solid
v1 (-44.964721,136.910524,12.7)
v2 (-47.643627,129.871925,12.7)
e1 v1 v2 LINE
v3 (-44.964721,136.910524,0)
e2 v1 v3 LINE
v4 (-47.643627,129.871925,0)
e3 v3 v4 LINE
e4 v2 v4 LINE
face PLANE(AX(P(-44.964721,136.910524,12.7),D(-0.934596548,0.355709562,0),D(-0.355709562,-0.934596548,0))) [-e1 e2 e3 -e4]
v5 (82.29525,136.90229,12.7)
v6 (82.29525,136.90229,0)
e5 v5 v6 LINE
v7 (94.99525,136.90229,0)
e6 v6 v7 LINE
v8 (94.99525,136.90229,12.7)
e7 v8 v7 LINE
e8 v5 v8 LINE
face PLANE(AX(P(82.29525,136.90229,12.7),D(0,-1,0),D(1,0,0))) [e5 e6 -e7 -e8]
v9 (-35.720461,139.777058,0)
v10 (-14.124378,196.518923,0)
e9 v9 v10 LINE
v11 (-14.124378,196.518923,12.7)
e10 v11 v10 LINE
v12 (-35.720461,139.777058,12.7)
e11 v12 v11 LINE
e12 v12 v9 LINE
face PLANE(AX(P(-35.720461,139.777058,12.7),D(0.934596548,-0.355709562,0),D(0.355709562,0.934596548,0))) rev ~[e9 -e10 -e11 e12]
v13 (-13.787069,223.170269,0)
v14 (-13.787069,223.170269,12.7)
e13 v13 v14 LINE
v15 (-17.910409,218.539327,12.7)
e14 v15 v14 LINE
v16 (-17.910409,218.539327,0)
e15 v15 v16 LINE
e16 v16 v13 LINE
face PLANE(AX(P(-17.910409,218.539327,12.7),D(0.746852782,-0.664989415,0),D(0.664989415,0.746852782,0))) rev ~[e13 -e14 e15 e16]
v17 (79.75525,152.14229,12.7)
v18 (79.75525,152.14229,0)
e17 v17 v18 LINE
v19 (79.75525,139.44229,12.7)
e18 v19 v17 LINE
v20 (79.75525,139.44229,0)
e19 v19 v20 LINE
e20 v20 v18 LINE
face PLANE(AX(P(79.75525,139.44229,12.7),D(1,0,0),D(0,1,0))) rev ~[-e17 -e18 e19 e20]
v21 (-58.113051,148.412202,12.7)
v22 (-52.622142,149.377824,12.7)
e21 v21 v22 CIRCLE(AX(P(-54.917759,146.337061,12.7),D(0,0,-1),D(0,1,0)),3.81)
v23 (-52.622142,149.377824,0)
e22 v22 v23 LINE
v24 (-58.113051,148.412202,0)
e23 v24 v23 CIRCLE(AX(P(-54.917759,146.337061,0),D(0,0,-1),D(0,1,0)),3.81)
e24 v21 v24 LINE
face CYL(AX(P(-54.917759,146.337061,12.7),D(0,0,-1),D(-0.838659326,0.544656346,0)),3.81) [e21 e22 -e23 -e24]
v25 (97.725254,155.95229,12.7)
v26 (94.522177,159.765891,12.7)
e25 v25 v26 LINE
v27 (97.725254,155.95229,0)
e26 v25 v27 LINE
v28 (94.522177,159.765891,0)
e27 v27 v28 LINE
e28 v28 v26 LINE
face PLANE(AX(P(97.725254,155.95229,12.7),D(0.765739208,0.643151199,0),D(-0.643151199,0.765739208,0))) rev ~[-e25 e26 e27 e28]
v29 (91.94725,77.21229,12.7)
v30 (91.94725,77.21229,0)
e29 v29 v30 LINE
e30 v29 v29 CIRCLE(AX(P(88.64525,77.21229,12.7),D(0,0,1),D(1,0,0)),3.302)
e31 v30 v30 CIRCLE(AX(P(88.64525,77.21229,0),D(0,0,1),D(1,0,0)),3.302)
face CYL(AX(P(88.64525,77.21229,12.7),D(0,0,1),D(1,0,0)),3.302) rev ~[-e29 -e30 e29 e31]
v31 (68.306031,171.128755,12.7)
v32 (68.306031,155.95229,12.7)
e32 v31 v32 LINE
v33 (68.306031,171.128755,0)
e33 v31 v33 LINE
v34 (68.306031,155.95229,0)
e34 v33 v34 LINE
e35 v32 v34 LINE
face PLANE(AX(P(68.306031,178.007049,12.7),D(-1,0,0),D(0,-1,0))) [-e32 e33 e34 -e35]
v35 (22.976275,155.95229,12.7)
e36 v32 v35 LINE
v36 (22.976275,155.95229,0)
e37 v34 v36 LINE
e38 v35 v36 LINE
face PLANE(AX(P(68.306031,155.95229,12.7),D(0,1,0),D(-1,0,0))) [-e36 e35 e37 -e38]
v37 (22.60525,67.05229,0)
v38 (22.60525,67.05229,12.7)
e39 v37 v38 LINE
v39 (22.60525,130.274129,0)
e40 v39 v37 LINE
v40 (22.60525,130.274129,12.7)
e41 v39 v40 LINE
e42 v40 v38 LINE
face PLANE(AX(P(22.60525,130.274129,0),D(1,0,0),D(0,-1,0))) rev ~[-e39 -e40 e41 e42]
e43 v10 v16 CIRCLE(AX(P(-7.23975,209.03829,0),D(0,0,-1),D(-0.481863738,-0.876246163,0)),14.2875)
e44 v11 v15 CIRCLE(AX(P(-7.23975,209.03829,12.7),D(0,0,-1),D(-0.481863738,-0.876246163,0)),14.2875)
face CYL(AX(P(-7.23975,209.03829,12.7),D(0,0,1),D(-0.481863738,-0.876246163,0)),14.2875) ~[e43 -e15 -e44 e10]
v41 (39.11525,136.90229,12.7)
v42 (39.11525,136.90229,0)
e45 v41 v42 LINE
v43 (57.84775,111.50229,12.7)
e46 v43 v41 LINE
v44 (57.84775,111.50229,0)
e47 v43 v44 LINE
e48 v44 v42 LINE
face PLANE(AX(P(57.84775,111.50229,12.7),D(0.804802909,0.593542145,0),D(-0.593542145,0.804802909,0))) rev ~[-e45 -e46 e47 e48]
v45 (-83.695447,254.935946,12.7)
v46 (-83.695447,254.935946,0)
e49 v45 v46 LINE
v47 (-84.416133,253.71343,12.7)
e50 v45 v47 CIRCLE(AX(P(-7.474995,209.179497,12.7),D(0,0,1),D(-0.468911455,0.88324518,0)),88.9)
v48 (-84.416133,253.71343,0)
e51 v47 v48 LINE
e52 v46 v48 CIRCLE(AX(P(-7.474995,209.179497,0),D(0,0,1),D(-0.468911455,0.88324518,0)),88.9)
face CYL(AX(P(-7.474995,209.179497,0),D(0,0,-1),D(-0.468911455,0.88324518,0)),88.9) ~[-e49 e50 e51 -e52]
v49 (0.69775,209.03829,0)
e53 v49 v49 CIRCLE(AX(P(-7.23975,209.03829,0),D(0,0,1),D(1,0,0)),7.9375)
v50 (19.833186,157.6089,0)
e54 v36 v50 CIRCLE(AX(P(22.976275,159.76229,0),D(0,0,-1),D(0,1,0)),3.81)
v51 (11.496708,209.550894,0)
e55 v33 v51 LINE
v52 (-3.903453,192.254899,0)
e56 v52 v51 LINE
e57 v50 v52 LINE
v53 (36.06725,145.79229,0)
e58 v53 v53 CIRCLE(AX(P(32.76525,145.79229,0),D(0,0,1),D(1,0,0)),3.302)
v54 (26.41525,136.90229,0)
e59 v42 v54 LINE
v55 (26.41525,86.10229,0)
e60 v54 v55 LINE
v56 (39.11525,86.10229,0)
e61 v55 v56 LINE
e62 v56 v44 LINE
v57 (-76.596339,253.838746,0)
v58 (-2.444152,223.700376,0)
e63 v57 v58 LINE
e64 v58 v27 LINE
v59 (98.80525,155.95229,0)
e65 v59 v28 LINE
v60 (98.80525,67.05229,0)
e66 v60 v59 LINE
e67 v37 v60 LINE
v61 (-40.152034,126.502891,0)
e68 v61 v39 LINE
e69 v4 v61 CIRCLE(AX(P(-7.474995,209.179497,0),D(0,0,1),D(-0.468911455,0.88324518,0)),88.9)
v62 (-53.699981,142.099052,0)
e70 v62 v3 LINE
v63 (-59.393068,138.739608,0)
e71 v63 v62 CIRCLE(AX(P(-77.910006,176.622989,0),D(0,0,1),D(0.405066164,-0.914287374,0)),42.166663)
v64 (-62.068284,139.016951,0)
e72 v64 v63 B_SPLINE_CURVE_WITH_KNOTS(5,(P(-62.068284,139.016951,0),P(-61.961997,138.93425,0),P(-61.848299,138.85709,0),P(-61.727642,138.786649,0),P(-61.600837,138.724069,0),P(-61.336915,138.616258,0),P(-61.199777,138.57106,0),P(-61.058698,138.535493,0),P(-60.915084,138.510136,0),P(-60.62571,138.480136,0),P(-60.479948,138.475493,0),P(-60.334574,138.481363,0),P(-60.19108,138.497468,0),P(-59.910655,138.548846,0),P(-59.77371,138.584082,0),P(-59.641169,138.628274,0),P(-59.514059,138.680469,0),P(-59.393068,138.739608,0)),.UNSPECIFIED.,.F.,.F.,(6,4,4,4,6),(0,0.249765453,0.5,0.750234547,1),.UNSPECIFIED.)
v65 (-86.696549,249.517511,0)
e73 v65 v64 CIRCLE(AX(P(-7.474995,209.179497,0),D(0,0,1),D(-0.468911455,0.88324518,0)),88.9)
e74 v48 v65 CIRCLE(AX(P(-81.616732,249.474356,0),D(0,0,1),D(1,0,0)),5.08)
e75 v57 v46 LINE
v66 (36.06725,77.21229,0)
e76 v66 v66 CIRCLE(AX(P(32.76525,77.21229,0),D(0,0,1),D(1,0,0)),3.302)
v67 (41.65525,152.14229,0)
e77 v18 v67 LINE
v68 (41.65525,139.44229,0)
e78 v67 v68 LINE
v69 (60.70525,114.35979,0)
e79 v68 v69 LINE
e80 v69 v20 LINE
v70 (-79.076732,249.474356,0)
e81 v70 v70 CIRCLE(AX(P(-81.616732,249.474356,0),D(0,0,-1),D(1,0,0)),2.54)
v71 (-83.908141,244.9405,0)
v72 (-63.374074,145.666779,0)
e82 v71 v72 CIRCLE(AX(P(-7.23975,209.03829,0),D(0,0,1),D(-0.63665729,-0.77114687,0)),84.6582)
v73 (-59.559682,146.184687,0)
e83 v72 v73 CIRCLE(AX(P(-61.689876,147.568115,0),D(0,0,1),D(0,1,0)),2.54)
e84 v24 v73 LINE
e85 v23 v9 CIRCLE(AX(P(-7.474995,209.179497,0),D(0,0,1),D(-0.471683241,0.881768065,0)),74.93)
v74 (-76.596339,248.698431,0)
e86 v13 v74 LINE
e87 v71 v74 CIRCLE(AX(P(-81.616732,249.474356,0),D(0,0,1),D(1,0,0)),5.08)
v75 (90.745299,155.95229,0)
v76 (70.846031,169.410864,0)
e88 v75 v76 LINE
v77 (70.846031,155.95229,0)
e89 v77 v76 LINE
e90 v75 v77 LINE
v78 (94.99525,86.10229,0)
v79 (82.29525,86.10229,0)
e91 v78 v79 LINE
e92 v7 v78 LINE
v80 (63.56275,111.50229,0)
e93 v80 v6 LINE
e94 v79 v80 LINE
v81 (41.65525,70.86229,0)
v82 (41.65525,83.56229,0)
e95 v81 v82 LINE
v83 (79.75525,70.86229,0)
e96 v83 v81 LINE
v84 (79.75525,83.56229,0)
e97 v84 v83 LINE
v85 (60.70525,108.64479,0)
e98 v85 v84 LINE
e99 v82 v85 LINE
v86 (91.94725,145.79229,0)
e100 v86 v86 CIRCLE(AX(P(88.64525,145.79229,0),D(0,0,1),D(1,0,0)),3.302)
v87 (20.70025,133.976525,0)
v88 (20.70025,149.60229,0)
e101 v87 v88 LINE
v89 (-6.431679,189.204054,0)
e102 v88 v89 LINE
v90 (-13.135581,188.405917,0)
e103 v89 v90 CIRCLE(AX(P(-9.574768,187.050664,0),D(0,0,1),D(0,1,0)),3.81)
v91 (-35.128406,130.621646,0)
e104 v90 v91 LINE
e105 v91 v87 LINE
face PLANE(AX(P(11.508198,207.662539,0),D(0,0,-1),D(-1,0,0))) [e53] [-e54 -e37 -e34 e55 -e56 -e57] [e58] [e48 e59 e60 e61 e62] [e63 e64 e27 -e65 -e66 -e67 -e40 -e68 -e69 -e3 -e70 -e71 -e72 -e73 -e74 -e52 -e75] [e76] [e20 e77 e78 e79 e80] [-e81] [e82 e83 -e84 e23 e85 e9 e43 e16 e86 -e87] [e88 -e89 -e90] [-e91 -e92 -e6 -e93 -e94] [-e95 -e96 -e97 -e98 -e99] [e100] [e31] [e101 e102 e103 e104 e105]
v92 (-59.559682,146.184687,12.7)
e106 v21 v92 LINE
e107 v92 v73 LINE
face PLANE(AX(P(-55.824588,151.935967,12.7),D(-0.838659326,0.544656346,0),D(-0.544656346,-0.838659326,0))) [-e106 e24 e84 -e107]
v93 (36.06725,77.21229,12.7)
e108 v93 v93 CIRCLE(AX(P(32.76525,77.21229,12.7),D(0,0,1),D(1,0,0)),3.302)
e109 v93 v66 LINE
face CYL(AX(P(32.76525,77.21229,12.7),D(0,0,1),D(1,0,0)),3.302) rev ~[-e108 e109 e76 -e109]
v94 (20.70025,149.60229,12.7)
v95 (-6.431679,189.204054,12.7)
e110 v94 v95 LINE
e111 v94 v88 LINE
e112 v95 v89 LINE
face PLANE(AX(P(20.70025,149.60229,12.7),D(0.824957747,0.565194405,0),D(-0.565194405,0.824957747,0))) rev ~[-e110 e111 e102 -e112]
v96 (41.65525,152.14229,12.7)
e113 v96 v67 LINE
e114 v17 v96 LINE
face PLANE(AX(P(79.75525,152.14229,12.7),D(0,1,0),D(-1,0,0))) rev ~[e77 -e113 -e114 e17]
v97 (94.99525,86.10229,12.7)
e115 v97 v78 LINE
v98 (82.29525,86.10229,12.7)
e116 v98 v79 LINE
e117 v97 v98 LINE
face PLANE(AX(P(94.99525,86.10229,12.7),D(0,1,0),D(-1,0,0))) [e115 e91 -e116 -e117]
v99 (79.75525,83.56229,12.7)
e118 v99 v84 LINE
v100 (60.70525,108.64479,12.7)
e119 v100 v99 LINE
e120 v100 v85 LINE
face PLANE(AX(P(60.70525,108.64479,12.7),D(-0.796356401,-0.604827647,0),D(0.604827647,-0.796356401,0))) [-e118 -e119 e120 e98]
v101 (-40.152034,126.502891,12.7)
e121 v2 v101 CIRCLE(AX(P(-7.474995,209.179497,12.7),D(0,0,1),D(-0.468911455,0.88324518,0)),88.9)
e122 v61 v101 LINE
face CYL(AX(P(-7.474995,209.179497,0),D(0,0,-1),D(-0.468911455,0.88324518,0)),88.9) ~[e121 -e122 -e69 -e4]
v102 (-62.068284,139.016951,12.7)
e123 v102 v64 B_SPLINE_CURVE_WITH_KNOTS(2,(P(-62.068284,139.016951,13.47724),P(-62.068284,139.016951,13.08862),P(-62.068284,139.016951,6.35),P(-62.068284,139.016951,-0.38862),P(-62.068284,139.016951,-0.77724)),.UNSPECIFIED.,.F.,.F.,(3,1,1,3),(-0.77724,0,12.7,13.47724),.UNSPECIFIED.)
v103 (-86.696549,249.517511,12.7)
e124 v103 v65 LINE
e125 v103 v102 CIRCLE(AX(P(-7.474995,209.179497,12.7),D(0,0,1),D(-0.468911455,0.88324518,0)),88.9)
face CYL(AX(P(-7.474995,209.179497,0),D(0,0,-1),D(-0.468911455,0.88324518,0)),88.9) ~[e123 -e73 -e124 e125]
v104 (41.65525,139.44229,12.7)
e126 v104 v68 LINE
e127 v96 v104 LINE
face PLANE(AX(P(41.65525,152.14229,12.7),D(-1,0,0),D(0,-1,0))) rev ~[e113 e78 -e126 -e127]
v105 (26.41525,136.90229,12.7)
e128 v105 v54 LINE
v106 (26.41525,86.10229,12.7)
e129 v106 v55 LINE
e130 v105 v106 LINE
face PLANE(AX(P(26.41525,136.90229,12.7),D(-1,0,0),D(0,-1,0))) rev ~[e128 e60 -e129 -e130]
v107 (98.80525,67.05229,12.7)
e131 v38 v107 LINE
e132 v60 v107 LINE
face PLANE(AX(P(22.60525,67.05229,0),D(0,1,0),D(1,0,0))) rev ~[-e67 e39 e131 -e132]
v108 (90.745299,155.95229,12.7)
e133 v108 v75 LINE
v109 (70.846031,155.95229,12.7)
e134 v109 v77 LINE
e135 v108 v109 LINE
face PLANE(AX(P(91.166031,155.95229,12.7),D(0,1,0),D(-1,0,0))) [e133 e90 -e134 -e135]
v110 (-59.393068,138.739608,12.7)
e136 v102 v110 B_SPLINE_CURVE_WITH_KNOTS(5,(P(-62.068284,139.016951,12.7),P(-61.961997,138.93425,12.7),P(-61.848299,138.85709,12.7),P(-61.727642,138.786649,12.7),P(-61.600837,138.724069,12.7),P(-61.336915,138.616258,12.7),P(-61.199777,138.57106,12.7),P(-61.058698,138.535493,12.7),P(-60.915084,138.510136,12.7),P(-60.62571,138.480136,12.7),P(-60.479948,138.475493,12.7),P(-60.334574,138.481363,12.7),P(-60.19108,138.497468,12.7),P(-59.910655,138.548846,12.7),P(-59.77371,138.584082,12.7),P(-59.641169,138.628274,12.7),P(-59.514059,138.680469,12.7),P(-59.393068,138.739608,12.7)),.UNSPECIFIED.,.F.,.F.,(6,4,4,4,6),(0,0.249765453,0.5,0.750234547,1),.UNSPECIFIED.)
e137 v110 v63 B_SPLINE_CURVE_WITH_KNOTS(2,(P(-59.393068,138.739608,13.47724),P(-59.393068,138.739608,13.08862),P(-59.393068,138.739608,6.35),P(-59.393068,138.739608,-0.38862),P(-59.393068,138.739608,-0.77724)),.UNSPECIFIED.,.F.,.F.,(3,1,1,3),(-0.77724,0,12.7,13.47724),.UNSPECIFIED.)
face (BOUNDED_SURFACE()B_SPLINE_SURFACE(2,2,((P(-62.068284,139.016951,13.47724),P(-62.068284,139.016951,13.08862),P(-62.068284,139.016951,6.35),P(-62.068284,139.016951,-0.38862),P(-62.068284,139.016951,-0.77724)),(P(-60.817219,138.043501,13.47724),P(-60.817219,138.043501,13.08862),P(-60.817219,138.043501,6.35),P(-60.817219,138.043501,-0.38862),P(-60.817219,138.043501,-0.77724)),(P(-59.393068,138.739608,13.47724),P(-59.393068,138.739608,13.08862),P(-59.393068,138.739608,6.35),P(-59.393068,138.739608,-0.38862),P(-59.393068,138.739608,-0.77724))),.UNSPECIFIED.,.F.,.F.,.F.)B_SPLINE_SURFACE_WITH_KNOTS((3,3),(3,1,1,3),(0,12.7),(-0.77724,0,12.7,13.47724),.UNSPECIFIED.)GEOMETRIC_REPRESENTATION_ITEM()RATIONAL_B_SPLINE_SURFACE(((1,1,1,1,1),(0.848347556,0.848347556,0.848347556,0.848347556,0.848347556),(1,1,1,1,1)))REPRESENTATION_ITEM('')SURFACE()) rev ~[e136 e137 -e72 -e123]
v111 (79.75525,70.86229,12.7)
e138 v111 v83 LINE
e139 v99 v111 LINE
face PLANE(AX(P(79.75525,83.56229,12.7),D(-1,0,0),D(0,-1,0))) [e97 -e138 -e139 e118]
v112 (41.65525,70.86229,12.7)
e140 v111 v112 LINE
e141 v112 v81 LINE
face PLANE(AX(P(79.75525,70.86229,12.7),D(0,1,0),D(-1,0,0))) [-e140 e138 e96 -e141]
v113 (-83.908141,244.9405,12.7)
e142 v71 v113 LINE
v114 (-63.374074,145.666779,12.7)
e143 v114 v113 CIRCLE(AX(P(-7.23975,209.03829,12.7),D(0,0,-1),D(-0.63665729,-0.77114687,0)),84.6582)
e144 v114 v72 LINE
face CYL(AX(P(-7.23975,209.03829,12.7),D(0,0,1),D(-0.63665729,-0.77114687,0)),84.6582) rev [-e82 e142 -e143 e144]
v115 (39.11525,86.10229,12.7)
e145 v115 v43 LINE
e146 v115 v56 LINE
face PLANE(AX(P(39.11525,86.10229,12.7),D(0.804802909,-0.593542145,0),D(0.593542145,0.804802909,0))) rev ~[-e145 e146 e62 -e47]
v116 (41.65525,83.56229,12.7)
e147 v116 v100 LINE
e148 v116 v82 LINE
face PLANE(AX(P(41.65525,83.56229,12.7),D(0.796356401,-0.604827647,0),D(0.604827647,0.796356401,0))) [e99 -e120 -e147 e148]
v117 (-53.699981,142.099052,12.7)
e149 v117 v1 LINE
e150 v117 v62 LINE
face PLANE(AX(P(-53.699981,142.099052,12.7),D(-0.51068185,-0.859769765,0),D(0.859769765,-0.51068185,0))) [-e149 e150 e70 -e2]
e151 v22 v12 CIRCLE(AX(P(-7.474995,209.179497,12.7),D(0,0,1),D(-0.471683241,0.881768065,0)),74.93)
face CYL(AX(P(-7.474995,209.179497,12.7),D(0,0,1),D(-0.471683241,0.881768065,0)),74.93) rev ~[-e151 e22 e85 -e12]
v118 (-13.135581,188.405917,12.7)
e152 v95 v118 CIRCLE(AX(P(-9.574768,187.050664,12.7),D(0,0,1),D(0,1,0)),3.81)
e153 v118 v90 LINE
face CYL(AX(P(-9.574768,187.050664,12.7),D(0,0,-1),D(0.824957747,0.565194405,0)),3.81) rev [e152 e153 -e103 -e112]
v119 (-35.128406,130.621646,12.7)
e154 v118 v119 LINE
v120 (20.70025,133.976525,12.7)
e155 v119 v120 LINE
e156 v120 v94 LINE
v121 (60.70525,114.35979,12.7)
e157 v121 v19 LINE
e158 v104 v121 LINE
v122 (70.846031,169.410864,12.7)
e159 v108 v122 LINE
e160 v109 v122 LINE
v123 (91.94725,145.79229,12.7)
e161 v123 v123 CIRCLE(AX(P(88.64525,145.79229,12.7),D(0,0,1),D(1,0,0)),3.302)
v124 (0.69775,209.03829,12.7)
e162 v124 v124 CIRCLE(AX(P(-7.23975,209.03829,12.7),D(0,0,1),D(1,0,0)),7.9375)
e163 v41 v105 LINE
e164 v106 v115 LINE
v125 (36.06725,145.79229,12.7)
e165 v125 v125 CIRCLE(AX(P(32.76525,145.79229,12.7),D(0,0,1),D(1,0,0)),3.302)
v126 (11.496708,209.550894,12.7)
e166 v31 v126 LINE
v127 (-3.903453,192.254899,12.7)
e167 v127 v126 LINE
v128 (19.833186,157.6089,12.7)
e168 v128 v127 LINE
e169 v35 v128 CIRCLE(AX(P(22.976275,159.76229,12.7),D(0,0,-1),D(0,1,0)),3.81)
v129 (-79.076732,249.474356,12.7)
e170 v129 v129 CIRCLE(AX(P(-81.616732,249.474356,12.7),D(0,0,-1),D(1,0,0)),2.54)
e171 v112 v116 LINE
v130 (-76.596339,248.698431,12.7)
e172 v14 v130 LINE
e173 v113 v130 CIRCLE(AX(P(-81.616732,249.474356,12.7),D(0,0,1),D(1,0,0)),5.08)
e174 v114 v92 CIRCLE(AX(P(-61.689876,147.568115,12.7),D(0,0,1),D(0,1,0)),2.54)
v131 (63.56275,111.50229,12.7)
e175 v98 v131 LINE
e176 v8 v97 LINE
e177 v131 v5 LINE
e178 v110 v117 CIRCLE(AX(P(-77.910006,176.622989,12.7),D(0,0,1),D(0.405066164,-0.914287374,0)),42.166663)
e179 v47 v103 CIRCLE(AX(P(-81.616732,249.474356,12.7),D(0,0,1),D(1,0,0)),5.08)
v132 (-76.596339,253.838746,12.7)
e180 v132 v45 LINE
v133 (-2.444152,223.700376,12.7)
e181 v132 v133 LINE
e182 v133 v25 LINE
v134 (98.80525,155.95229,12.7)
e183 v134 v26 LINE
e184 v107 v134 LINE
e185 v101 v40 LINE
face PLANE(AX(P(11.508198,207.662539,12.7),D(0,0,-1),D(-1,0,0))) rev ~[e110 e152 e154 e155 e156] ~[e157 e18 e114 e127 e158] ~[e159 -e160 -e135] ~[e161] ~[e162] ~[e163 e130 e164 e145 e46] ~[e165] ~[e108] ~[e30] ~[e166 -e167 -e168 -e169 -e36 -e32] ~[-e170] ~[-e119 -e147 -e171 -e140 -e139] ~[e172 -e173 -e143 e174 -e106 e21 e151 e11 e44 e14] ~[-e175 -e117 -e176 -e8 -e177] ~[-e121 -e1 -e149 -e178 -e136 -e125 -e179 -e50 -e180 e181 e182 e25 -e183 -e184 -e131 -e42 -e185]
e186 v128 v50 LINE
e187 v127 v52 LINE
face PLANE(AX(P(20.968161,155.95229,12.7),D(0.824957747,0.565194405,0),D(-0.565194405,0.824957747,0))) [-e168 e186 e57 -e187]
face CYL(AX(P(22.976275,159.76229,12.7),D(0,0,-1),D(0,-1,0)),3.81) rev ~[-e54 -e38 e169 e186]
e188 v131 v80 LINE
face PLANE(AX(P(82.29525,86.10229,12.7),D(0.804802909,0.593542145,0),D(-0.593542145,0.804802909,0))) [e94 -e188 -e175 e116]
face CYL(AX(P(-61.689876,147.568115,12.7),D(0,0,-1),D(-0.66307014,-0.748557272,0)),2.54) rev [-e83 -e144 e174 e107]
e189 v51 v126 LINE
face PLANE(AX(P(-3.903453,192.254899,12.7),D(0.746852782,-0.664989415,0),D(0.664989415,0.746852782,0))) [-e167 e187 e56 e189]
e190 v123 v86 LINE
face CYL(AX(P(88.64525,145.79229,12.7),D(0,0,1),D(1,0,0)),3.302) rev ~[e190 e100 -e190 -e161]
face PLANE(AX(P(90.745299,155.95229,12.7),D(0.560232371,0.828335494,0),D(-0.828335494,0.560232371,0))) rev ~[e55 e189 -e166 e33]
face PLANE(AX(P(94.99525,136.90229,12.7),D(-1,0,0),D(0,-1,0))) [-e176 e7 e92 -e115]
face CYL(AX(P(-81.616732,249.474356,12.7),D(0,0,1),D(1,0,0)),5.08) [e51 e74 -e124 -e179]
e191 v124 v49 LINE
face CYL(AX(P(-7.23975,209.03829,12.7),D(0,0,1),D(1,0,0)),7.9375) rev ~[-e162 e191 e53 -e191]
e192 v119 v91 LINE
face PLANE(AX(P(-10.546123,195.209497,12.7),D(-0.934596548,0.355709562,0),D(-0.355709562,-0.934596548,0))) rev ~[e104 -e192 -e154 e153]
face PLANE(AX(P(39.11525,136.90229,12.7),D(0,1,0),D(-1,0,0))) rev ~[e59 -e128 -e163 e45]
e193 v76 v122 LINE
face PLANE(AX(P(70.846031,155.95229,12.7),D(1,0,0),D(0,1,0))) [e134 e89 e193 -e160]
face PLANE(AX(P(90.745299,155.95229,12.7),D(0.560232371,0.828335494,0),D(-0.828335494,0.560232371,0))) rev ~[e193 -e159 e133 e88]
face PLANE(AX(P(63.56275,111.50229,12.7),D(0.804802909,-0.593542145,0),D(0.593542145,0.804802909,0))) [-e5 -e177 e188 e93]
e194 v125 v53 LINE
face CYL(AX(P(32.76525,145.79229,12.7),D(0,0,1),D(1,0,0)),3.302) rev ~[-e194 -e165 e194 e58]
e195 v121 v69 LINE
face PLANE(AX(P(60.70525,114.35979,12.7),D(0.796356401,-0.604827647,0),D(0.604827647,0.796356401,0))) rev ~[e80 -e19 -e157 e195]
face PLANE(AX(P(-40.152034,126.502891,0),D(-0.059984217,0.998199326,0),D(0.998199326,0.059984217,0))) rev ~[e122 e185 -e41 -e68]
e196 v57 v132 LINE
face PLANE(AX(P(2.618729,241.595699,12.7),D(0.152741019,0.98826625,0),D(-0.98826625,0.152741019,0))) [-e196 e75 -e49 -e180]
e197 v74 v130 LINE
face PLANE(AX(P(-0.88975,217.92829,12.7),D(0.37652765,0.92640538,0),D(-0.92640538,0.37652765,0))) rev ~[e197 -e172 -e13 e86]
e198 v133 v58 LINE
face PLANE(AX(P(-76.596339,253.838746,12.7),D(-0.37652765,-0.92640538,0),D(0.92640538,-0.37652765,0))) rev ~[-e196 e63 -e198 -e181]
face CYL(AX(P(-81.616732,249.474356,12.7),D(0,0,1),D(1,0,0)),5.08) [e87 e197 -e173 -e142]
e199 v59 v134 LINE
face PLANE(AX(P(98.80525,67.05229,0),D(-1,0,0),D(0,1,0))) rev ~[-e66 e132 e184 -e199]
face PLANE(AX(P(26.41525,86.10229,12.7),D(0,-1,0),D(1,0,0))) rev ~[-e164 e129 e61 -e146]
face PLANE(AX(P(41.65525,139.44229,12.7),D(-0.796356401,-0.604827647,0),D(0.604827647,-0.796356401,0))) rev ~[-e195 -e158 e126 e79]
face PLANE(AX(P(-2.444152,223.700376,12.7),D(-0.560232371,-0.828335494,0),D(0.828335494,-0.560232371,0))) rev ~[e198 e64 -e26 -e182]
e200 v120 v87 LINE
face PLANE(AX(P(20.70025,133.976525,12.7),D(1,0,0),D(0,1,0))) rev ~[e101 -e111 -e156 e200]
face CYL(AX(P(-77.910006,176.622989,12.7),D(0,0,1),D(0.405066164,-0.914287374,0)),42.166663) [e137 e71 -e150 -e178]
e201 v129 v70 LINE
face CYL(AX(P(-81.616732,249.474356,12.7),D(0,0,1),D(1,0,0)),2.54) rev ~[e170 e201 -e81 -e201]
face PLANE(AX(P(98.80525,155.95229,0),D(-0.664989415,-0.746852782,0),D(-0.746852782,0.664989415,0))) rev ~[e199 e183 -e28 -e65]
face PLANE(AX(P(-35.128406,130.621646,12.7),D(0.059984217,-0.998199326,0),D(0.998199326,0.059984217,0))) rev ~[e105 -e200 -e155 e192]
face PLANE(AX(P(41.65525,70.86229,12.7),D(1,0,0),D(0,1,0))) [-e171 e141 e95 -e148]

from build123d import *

# Parameters (mm, degrees)
BOSS_EXTRUDE1_DEPTH = 12.7
SKETCH2_R           = 7.9375
CUT_EXTRUDE1_DEPTH  = 25.4
CUT_EXTRUDE2_DEPTH  = 15.24
CUT_EXTRUDE4_DEPTH  = 12.7
CUT_EXTRUDE3_DEPTH  = 12.7
FILLET4_R           = 3.81
CUT_EXTRUDE8_REACH  = 306.459
SKETCH10_R          = 3.302
CUT_EXTRUDE9_DEPTH  = 12.7
CUT_EXTRUDE10_DEPTH = 15.24
FILLET8_R           = 2.54
FILLET9_R           = 3.81
CUT_EXTRUDE11_DEPTH = 12.7
BOSS_EXTRUDE2_DEPTH = 12.7
SKETCH16_R          = 5.08
SKETCH16_R_2        = 2.54
BOSS_EXTRUDE3_DEPTH = 12.7
SKETCH17_R          = 2.54
CUT_EXTRUDE12_DEPTH = 12.7
CUT_EXTRUDE13_DEPTH = 12.7
BOSS_EXTRUDE4_DEPTH = 12.7


with BuildPart() as part:
    # Sketch1 → Boss-Extrude1 (new body)
    with BuildSketch(Plane.XY):
        with BuildLine():
            Line((22.605250022, 67.052290313), (98.805250022, 67.052290313))
            Line((98.805250022, 67.052290313), (98.805250022, 155.952290313))
            Line((98.805250022, 155.952290313), (-49.161223166, 287.699993186))
            ThreePointArc((-49.161223166, 287.699993186), (-96.236474745, 204.218681994), (-40.152034083, 126.502891159))
            Line((-40.152034083, 126.502891159), (22.605250022, 130.274128502))
            Line((22.605250022, 130.274128502), (22.605250022, 67.052290313))
        make_face()
    extrude(amount=BOSS_EXTRUDE1_DEPTH)

    # Sketch2 → Cut-Extrude1 (cut)
    with BuildSketch(Plane.XY.offset(12.7)):
        with Locations((-7.239749978, 209.038290313)):
            Circle(SKETCH2_R)
    extrude(amount=-CUT_EXTRUDE1_DEPTH, mode=Mode.SUBTRACT)

    # Sketch3 → Cut-Extrude2 (cut)
    with BuildSketch(Plane.XY.offset(12.7)):
        Polygon((41.655250022, 70.862290313), (41.655250022, 83.562290313), (60.705250022, 108.644790313), (79.755250022, 83.562290313), (79.755250022, 70.862290313), align=None)
        Polygon((26.415250022, 86.102290313), (39.115250022, 86.102290313), (57.847750022, 111.502290313), (39.115250022, 136.902290313), (26.415250022, 136.902290313), align=None)
        Polygon((94.995250022, 86.102290313), (82.295250022, 86.102290313), (63.562750022, 111.502290313), (82.295250022, 136.902290313), (94.995250022, 136.902290313), align=None)
        Polygon((41.655250022, 152.142290313), (41.655250022, 139.442290313), (60.705250022, 114.359790313), (79.755250022, 139.442290313), (79.755250022, 152.142290313), align=None)
    extrude(amount=-CUT_EXTRUDE2_DEPTH, mode=Mode.SUBTRACT)

    # Sketch5 → Cut-Extrude4 (cut)
    with BuildSketch(Plane.XY.offset(12.7)):
        with BuildLine():
            Line((-17.910409102, 218.539326578), (-0.75941726, 237.80168728))
            Line((-0.75941726, 237.80168728), (-42.818220106, 275.250377791))
            ThreePointArc((-42.818220106, 275.250377791), (-82.302366375, 205.259118271), (-35.720460653, 139.777057558))
            Line((-35.720460653, 139.777057558), (-14.124378137, 196.518923262))
            ThreePointArc((-14.124378137, 196.518923262), (-21.320643715, 206.617321953), (-17.910409102, 218.539326578))
        make_face()
        with BuildLine():
            Line((3.983097906, 233.579004496), (-5.26797782, 223.189077245))
            ThreePointArc((-5.26797782, 223.189077245), (1.977645927, 219.954895508), (6.380422315, 213.353792944))
            Line((6.380422315, 213.353792944), (15.365134305, 223.444565813))
            Line((15.365134305, 223.444565813), (3.983097906, 233.579004496))
        make_face()
        Polygon((20.700250022, 133.976525379), (20.700250022, 149.602290313), (-10.546123475, 195.20949671), (-35.128405597, 130.621646119), align=None)
    extrude(amount=-CUT_EXTRUDE4_DEPTH, mode=Mode.SUBTRACT)

    # Sketch4 → Cut-Extrude3 (cut)
    with BuildSketch(Plane.XY.offset(12.7)):
        Polygon((20.968161353, 155.952290313), (-3.903453401, 192.254898923), (20.952186028, 220.170386062), (68.306030681, 178.007049188), (68.306030681, 155.952290313), align=None)
        Polygon((91.166030681, 155.952290313), (70.846030681, 155.952290313), (70.846030681, 174.044992428), align=None)
    extrude(amount=-CUT_EXTRUDE3_DEPTH, mode=Mode.SUBTRACT)

    # Fillet4
    fillet4_edges = [part.edges().sort_by_distance(p)[0] for p in [
        (-10.546123475, 195.20949671, 6.35),
        (20.968161353, 155.952290313, 6.35),
    ]]
    fillet(fillet4_edges, radius=FILLET4_R)

    # Sketch10 → Cut-Extrude8 (cut, up to next)
    with BuildSketch(Plane.XY.offset(12.7), mode=Mode.PRIVATE) as cut_extrude8_sk1:
        with Locations((32.765250022, 77.212290313)):
            Circle(SKETCH10_R)
    cut_extrude8_tool1 = extrude(cut_extrude8_sk1.sketch, amount=-CUT_EXTRUDE8_REACH, mode=Mode.PRIVATE) & part.part
    # Sketch10 → Cut-Extrude8 (cut, up to next)
    with BuildSketch(Plane.XY.offset(12.7), mode=Mode.PRIVATE) as cut_extrude8_sk2:
        with Locations((32.765250022, 145.792290313)):
            Circle(SKETCH10_R)
    cut_extrude8_tool2 = extrude(cut_extrude8_sk2.sketch, amount=-CUT_EXTRUDE8_REACH, mode=Mode.PRIVATE) & part.part
    # Sketch10 → Cut-Extrude8 (cut, up to next)
    with BuildSketch(Plane.XY.offset(12.7), mode=Mode.PRIVATE) as cut_extrude8_sk3:
        with Locations((88.645250022, 145.792290313)):
            Circle(SKETCH10_R)
    cut_extrude8_tool3 = extrude(cut_extrude8_sk3.sketch, amount=-CUT_EXTRUDE8_REACH, mode=Mode.PRIVATE) & part.part
    # Sketch10 → Cut-Extrude8 (cut, up to next)
    with BuildSketch(Plane.XY.offset(12.7), mode=Mode.PRIVATE) as cut_extrude8_sk4:
        with Locations((88.645250022, 77.212290313)):
            Circle(SKETCH10_R)
    cut_extrude8_tool4 = extrude(cut_extrude8_sk4.sketch, amount=-CUT_EXTRUDE8_REACH, mode=Mode.PRIVATE) & part.part
    add(cut_extrude8_tool1.solids().sort_by_distance((32.76525, 77.21229, 12.7))[0], mode=Mode.SUBTRACT)
    add(cut_extrude8_tool2.solids().sort_by_distance((32.76525, 145.79229, 12.7))[0], mode=Mode.SUBTRACT)
    add(cut_extrude8_tool3.solids().sort_by_distance((88.64525, 145.79229, 12.7))[0], mode=Mode.SUBTRACT)
    add(cut_extrude8_tool4.solids().sort_by_distance((88.64525, 77.21229, 12.7))[0], mode=Mode.SUBTRACT)

    # Sketch11 → Cut-Extrude9 (cut)
    with BuildSketch(Plane.XY.offset(12.7)):
        with BuildLine():
            Line((-53.699981311, 142.099051734), (-44.964720503, 136.910524137))
            Line((-44.964720503, 136.910524137), (-50.020521881, 123.626837035))
            Line((-50.020521881, 123.626837035), (-66.867730014, 134.987909964))
            ThreePointArc((-66.867730014, 134.987909964), (-63.911601381, 136.652385518), (-60.829717039, 138.070540751))
            ThreePointArc((-60.829717039, 138.070540751), (-57.16682096, 139.911304034), (-53.699981311, 142.099051734))
        make_face()
    extrude(amount=-CUT_EXTRUDE9_DEPTH, mode=Mode.SUBTRACT)

    # Sketch13 → Cut-Extrude10 (cut)
    with BuildSketch(Plane.XY.offset(12.7)):
        with BuildLine():
            Line((-50.310364079, 281.9212995), (-42.818220106, 275.250377791))
            Line((-42.818220106, 275.250377791), (-55.824588323, 151.935966869))
            Line((-55.824588323, 151.935966869), (-61.138010202, 143.754384394))
            ThreePointArc((-61.138010202, 143.754384394), (-91.639185725, 215.652371712), (-50.310364079, 281.9212995))
        make_face()
    extrude(amount=-CUT_EXTRUDE10_DEPTH, mode=Mode.SUBTRACT)

    # Fillet8
    fillet8_edges = [part.edges().sort_by_distance(p)[0] for p in [
        (-60.829717039, 138.070540751, 6.35),
        (-61.138010202, 143.754384394, 6.35),
    ]]
    fillet(fillet8_edges, radius=FILLET8_R)

    # Fillet9
    fillet9_edges = [part.edges().sort_by_distance(p)[0] for p in [
        (-55.824588323, 151.935966869, 6.35),
    ]]
    fillet(fillet9_edges, radius=FILLET9_R)

    # Sketch14 → Cut-Extrude11 (cut)
    with BuildSketch(Plane.XY.offset(12.7)):
        Polygon((-0.75941726, 237.80168728), (-90.284904, 256.297301642), (-56.503441725, 294.237422972), (2.618728967, 241.595699413), align=None)
    extrude(amount=-CUT_EXTRUDE11_DEPTH, mode=Mode.SUBTRACT)

    # Sketch15 → Boss-Extrude2 (add)
    with BuildSketch(Plane.XY.offset(12.7)):
        Polygon((2.618728967, 241.595699413), (-83.695447283, 254.935945734), (-84.471371658, 249.915553183), (-1.404499457, 237.07719239), align=None)
    extrude(amount=-BOSS_EXTRUDE2_DEPTH)

    # Sketch16 → Boss-Extrude3 (add)
    with BuildSketch(Plane.XY.offset(12.7)):
        with Locations((-81.616731922, 249.474355701)):
            Circle(SKETCH16_R)
        with Locations((-81.616731922, 249.474355701)):
            Circle(SKETCH16_R_2, mode=Mode.SUBTRACT)
    extrude(amount=-BOSS_EXTRUDE3_DEPTH)

    # Sketch17 → Cut-Extrude12 (cut)
    with BuildSketch(Plane.XY.offset(12.7)):
        with Locations((-81.616731922, 249.474355701)):
            Circle(SKETCH17_R)
    extrude(amount=-CUT_EXTRUDE12_DEPTH, mode=Mode.SUBTRACT)

    # Sketch18 → Cut-Extrude13 (cut)
    with BuildSketch(Plane.XY.offset(12.7)):
        Polygon((-76.596339371, 248.698431326), (1.977645927, 219.954895508), (91.166030681, 155.952290313), (97.725254163, 155.952290313), (11.18255191, 258.990487802), (-76.596339371, 256.904187462), align=None)
    extrude(amount=-CUT_EXTRUDE13_DEPTH, mode=Mode.SUBTRACT)

    # Sketch20 → Boss-Extrude4 (add)
    with BuildSketch(Plane.XY.offset(12.7)):
        Polygon((90.745298735, 155.952290313), (-0.889749978, 217.928290313), (-76.596339371, 248.698431326), (-76.596339371, 253.838746498), (-2.444151583, 223.700375546), (97.725254163, 155.952290313), align=None)
    extrude(amount=-BOSS_EXTRUDE4_DEPTH)


solid = part.part
